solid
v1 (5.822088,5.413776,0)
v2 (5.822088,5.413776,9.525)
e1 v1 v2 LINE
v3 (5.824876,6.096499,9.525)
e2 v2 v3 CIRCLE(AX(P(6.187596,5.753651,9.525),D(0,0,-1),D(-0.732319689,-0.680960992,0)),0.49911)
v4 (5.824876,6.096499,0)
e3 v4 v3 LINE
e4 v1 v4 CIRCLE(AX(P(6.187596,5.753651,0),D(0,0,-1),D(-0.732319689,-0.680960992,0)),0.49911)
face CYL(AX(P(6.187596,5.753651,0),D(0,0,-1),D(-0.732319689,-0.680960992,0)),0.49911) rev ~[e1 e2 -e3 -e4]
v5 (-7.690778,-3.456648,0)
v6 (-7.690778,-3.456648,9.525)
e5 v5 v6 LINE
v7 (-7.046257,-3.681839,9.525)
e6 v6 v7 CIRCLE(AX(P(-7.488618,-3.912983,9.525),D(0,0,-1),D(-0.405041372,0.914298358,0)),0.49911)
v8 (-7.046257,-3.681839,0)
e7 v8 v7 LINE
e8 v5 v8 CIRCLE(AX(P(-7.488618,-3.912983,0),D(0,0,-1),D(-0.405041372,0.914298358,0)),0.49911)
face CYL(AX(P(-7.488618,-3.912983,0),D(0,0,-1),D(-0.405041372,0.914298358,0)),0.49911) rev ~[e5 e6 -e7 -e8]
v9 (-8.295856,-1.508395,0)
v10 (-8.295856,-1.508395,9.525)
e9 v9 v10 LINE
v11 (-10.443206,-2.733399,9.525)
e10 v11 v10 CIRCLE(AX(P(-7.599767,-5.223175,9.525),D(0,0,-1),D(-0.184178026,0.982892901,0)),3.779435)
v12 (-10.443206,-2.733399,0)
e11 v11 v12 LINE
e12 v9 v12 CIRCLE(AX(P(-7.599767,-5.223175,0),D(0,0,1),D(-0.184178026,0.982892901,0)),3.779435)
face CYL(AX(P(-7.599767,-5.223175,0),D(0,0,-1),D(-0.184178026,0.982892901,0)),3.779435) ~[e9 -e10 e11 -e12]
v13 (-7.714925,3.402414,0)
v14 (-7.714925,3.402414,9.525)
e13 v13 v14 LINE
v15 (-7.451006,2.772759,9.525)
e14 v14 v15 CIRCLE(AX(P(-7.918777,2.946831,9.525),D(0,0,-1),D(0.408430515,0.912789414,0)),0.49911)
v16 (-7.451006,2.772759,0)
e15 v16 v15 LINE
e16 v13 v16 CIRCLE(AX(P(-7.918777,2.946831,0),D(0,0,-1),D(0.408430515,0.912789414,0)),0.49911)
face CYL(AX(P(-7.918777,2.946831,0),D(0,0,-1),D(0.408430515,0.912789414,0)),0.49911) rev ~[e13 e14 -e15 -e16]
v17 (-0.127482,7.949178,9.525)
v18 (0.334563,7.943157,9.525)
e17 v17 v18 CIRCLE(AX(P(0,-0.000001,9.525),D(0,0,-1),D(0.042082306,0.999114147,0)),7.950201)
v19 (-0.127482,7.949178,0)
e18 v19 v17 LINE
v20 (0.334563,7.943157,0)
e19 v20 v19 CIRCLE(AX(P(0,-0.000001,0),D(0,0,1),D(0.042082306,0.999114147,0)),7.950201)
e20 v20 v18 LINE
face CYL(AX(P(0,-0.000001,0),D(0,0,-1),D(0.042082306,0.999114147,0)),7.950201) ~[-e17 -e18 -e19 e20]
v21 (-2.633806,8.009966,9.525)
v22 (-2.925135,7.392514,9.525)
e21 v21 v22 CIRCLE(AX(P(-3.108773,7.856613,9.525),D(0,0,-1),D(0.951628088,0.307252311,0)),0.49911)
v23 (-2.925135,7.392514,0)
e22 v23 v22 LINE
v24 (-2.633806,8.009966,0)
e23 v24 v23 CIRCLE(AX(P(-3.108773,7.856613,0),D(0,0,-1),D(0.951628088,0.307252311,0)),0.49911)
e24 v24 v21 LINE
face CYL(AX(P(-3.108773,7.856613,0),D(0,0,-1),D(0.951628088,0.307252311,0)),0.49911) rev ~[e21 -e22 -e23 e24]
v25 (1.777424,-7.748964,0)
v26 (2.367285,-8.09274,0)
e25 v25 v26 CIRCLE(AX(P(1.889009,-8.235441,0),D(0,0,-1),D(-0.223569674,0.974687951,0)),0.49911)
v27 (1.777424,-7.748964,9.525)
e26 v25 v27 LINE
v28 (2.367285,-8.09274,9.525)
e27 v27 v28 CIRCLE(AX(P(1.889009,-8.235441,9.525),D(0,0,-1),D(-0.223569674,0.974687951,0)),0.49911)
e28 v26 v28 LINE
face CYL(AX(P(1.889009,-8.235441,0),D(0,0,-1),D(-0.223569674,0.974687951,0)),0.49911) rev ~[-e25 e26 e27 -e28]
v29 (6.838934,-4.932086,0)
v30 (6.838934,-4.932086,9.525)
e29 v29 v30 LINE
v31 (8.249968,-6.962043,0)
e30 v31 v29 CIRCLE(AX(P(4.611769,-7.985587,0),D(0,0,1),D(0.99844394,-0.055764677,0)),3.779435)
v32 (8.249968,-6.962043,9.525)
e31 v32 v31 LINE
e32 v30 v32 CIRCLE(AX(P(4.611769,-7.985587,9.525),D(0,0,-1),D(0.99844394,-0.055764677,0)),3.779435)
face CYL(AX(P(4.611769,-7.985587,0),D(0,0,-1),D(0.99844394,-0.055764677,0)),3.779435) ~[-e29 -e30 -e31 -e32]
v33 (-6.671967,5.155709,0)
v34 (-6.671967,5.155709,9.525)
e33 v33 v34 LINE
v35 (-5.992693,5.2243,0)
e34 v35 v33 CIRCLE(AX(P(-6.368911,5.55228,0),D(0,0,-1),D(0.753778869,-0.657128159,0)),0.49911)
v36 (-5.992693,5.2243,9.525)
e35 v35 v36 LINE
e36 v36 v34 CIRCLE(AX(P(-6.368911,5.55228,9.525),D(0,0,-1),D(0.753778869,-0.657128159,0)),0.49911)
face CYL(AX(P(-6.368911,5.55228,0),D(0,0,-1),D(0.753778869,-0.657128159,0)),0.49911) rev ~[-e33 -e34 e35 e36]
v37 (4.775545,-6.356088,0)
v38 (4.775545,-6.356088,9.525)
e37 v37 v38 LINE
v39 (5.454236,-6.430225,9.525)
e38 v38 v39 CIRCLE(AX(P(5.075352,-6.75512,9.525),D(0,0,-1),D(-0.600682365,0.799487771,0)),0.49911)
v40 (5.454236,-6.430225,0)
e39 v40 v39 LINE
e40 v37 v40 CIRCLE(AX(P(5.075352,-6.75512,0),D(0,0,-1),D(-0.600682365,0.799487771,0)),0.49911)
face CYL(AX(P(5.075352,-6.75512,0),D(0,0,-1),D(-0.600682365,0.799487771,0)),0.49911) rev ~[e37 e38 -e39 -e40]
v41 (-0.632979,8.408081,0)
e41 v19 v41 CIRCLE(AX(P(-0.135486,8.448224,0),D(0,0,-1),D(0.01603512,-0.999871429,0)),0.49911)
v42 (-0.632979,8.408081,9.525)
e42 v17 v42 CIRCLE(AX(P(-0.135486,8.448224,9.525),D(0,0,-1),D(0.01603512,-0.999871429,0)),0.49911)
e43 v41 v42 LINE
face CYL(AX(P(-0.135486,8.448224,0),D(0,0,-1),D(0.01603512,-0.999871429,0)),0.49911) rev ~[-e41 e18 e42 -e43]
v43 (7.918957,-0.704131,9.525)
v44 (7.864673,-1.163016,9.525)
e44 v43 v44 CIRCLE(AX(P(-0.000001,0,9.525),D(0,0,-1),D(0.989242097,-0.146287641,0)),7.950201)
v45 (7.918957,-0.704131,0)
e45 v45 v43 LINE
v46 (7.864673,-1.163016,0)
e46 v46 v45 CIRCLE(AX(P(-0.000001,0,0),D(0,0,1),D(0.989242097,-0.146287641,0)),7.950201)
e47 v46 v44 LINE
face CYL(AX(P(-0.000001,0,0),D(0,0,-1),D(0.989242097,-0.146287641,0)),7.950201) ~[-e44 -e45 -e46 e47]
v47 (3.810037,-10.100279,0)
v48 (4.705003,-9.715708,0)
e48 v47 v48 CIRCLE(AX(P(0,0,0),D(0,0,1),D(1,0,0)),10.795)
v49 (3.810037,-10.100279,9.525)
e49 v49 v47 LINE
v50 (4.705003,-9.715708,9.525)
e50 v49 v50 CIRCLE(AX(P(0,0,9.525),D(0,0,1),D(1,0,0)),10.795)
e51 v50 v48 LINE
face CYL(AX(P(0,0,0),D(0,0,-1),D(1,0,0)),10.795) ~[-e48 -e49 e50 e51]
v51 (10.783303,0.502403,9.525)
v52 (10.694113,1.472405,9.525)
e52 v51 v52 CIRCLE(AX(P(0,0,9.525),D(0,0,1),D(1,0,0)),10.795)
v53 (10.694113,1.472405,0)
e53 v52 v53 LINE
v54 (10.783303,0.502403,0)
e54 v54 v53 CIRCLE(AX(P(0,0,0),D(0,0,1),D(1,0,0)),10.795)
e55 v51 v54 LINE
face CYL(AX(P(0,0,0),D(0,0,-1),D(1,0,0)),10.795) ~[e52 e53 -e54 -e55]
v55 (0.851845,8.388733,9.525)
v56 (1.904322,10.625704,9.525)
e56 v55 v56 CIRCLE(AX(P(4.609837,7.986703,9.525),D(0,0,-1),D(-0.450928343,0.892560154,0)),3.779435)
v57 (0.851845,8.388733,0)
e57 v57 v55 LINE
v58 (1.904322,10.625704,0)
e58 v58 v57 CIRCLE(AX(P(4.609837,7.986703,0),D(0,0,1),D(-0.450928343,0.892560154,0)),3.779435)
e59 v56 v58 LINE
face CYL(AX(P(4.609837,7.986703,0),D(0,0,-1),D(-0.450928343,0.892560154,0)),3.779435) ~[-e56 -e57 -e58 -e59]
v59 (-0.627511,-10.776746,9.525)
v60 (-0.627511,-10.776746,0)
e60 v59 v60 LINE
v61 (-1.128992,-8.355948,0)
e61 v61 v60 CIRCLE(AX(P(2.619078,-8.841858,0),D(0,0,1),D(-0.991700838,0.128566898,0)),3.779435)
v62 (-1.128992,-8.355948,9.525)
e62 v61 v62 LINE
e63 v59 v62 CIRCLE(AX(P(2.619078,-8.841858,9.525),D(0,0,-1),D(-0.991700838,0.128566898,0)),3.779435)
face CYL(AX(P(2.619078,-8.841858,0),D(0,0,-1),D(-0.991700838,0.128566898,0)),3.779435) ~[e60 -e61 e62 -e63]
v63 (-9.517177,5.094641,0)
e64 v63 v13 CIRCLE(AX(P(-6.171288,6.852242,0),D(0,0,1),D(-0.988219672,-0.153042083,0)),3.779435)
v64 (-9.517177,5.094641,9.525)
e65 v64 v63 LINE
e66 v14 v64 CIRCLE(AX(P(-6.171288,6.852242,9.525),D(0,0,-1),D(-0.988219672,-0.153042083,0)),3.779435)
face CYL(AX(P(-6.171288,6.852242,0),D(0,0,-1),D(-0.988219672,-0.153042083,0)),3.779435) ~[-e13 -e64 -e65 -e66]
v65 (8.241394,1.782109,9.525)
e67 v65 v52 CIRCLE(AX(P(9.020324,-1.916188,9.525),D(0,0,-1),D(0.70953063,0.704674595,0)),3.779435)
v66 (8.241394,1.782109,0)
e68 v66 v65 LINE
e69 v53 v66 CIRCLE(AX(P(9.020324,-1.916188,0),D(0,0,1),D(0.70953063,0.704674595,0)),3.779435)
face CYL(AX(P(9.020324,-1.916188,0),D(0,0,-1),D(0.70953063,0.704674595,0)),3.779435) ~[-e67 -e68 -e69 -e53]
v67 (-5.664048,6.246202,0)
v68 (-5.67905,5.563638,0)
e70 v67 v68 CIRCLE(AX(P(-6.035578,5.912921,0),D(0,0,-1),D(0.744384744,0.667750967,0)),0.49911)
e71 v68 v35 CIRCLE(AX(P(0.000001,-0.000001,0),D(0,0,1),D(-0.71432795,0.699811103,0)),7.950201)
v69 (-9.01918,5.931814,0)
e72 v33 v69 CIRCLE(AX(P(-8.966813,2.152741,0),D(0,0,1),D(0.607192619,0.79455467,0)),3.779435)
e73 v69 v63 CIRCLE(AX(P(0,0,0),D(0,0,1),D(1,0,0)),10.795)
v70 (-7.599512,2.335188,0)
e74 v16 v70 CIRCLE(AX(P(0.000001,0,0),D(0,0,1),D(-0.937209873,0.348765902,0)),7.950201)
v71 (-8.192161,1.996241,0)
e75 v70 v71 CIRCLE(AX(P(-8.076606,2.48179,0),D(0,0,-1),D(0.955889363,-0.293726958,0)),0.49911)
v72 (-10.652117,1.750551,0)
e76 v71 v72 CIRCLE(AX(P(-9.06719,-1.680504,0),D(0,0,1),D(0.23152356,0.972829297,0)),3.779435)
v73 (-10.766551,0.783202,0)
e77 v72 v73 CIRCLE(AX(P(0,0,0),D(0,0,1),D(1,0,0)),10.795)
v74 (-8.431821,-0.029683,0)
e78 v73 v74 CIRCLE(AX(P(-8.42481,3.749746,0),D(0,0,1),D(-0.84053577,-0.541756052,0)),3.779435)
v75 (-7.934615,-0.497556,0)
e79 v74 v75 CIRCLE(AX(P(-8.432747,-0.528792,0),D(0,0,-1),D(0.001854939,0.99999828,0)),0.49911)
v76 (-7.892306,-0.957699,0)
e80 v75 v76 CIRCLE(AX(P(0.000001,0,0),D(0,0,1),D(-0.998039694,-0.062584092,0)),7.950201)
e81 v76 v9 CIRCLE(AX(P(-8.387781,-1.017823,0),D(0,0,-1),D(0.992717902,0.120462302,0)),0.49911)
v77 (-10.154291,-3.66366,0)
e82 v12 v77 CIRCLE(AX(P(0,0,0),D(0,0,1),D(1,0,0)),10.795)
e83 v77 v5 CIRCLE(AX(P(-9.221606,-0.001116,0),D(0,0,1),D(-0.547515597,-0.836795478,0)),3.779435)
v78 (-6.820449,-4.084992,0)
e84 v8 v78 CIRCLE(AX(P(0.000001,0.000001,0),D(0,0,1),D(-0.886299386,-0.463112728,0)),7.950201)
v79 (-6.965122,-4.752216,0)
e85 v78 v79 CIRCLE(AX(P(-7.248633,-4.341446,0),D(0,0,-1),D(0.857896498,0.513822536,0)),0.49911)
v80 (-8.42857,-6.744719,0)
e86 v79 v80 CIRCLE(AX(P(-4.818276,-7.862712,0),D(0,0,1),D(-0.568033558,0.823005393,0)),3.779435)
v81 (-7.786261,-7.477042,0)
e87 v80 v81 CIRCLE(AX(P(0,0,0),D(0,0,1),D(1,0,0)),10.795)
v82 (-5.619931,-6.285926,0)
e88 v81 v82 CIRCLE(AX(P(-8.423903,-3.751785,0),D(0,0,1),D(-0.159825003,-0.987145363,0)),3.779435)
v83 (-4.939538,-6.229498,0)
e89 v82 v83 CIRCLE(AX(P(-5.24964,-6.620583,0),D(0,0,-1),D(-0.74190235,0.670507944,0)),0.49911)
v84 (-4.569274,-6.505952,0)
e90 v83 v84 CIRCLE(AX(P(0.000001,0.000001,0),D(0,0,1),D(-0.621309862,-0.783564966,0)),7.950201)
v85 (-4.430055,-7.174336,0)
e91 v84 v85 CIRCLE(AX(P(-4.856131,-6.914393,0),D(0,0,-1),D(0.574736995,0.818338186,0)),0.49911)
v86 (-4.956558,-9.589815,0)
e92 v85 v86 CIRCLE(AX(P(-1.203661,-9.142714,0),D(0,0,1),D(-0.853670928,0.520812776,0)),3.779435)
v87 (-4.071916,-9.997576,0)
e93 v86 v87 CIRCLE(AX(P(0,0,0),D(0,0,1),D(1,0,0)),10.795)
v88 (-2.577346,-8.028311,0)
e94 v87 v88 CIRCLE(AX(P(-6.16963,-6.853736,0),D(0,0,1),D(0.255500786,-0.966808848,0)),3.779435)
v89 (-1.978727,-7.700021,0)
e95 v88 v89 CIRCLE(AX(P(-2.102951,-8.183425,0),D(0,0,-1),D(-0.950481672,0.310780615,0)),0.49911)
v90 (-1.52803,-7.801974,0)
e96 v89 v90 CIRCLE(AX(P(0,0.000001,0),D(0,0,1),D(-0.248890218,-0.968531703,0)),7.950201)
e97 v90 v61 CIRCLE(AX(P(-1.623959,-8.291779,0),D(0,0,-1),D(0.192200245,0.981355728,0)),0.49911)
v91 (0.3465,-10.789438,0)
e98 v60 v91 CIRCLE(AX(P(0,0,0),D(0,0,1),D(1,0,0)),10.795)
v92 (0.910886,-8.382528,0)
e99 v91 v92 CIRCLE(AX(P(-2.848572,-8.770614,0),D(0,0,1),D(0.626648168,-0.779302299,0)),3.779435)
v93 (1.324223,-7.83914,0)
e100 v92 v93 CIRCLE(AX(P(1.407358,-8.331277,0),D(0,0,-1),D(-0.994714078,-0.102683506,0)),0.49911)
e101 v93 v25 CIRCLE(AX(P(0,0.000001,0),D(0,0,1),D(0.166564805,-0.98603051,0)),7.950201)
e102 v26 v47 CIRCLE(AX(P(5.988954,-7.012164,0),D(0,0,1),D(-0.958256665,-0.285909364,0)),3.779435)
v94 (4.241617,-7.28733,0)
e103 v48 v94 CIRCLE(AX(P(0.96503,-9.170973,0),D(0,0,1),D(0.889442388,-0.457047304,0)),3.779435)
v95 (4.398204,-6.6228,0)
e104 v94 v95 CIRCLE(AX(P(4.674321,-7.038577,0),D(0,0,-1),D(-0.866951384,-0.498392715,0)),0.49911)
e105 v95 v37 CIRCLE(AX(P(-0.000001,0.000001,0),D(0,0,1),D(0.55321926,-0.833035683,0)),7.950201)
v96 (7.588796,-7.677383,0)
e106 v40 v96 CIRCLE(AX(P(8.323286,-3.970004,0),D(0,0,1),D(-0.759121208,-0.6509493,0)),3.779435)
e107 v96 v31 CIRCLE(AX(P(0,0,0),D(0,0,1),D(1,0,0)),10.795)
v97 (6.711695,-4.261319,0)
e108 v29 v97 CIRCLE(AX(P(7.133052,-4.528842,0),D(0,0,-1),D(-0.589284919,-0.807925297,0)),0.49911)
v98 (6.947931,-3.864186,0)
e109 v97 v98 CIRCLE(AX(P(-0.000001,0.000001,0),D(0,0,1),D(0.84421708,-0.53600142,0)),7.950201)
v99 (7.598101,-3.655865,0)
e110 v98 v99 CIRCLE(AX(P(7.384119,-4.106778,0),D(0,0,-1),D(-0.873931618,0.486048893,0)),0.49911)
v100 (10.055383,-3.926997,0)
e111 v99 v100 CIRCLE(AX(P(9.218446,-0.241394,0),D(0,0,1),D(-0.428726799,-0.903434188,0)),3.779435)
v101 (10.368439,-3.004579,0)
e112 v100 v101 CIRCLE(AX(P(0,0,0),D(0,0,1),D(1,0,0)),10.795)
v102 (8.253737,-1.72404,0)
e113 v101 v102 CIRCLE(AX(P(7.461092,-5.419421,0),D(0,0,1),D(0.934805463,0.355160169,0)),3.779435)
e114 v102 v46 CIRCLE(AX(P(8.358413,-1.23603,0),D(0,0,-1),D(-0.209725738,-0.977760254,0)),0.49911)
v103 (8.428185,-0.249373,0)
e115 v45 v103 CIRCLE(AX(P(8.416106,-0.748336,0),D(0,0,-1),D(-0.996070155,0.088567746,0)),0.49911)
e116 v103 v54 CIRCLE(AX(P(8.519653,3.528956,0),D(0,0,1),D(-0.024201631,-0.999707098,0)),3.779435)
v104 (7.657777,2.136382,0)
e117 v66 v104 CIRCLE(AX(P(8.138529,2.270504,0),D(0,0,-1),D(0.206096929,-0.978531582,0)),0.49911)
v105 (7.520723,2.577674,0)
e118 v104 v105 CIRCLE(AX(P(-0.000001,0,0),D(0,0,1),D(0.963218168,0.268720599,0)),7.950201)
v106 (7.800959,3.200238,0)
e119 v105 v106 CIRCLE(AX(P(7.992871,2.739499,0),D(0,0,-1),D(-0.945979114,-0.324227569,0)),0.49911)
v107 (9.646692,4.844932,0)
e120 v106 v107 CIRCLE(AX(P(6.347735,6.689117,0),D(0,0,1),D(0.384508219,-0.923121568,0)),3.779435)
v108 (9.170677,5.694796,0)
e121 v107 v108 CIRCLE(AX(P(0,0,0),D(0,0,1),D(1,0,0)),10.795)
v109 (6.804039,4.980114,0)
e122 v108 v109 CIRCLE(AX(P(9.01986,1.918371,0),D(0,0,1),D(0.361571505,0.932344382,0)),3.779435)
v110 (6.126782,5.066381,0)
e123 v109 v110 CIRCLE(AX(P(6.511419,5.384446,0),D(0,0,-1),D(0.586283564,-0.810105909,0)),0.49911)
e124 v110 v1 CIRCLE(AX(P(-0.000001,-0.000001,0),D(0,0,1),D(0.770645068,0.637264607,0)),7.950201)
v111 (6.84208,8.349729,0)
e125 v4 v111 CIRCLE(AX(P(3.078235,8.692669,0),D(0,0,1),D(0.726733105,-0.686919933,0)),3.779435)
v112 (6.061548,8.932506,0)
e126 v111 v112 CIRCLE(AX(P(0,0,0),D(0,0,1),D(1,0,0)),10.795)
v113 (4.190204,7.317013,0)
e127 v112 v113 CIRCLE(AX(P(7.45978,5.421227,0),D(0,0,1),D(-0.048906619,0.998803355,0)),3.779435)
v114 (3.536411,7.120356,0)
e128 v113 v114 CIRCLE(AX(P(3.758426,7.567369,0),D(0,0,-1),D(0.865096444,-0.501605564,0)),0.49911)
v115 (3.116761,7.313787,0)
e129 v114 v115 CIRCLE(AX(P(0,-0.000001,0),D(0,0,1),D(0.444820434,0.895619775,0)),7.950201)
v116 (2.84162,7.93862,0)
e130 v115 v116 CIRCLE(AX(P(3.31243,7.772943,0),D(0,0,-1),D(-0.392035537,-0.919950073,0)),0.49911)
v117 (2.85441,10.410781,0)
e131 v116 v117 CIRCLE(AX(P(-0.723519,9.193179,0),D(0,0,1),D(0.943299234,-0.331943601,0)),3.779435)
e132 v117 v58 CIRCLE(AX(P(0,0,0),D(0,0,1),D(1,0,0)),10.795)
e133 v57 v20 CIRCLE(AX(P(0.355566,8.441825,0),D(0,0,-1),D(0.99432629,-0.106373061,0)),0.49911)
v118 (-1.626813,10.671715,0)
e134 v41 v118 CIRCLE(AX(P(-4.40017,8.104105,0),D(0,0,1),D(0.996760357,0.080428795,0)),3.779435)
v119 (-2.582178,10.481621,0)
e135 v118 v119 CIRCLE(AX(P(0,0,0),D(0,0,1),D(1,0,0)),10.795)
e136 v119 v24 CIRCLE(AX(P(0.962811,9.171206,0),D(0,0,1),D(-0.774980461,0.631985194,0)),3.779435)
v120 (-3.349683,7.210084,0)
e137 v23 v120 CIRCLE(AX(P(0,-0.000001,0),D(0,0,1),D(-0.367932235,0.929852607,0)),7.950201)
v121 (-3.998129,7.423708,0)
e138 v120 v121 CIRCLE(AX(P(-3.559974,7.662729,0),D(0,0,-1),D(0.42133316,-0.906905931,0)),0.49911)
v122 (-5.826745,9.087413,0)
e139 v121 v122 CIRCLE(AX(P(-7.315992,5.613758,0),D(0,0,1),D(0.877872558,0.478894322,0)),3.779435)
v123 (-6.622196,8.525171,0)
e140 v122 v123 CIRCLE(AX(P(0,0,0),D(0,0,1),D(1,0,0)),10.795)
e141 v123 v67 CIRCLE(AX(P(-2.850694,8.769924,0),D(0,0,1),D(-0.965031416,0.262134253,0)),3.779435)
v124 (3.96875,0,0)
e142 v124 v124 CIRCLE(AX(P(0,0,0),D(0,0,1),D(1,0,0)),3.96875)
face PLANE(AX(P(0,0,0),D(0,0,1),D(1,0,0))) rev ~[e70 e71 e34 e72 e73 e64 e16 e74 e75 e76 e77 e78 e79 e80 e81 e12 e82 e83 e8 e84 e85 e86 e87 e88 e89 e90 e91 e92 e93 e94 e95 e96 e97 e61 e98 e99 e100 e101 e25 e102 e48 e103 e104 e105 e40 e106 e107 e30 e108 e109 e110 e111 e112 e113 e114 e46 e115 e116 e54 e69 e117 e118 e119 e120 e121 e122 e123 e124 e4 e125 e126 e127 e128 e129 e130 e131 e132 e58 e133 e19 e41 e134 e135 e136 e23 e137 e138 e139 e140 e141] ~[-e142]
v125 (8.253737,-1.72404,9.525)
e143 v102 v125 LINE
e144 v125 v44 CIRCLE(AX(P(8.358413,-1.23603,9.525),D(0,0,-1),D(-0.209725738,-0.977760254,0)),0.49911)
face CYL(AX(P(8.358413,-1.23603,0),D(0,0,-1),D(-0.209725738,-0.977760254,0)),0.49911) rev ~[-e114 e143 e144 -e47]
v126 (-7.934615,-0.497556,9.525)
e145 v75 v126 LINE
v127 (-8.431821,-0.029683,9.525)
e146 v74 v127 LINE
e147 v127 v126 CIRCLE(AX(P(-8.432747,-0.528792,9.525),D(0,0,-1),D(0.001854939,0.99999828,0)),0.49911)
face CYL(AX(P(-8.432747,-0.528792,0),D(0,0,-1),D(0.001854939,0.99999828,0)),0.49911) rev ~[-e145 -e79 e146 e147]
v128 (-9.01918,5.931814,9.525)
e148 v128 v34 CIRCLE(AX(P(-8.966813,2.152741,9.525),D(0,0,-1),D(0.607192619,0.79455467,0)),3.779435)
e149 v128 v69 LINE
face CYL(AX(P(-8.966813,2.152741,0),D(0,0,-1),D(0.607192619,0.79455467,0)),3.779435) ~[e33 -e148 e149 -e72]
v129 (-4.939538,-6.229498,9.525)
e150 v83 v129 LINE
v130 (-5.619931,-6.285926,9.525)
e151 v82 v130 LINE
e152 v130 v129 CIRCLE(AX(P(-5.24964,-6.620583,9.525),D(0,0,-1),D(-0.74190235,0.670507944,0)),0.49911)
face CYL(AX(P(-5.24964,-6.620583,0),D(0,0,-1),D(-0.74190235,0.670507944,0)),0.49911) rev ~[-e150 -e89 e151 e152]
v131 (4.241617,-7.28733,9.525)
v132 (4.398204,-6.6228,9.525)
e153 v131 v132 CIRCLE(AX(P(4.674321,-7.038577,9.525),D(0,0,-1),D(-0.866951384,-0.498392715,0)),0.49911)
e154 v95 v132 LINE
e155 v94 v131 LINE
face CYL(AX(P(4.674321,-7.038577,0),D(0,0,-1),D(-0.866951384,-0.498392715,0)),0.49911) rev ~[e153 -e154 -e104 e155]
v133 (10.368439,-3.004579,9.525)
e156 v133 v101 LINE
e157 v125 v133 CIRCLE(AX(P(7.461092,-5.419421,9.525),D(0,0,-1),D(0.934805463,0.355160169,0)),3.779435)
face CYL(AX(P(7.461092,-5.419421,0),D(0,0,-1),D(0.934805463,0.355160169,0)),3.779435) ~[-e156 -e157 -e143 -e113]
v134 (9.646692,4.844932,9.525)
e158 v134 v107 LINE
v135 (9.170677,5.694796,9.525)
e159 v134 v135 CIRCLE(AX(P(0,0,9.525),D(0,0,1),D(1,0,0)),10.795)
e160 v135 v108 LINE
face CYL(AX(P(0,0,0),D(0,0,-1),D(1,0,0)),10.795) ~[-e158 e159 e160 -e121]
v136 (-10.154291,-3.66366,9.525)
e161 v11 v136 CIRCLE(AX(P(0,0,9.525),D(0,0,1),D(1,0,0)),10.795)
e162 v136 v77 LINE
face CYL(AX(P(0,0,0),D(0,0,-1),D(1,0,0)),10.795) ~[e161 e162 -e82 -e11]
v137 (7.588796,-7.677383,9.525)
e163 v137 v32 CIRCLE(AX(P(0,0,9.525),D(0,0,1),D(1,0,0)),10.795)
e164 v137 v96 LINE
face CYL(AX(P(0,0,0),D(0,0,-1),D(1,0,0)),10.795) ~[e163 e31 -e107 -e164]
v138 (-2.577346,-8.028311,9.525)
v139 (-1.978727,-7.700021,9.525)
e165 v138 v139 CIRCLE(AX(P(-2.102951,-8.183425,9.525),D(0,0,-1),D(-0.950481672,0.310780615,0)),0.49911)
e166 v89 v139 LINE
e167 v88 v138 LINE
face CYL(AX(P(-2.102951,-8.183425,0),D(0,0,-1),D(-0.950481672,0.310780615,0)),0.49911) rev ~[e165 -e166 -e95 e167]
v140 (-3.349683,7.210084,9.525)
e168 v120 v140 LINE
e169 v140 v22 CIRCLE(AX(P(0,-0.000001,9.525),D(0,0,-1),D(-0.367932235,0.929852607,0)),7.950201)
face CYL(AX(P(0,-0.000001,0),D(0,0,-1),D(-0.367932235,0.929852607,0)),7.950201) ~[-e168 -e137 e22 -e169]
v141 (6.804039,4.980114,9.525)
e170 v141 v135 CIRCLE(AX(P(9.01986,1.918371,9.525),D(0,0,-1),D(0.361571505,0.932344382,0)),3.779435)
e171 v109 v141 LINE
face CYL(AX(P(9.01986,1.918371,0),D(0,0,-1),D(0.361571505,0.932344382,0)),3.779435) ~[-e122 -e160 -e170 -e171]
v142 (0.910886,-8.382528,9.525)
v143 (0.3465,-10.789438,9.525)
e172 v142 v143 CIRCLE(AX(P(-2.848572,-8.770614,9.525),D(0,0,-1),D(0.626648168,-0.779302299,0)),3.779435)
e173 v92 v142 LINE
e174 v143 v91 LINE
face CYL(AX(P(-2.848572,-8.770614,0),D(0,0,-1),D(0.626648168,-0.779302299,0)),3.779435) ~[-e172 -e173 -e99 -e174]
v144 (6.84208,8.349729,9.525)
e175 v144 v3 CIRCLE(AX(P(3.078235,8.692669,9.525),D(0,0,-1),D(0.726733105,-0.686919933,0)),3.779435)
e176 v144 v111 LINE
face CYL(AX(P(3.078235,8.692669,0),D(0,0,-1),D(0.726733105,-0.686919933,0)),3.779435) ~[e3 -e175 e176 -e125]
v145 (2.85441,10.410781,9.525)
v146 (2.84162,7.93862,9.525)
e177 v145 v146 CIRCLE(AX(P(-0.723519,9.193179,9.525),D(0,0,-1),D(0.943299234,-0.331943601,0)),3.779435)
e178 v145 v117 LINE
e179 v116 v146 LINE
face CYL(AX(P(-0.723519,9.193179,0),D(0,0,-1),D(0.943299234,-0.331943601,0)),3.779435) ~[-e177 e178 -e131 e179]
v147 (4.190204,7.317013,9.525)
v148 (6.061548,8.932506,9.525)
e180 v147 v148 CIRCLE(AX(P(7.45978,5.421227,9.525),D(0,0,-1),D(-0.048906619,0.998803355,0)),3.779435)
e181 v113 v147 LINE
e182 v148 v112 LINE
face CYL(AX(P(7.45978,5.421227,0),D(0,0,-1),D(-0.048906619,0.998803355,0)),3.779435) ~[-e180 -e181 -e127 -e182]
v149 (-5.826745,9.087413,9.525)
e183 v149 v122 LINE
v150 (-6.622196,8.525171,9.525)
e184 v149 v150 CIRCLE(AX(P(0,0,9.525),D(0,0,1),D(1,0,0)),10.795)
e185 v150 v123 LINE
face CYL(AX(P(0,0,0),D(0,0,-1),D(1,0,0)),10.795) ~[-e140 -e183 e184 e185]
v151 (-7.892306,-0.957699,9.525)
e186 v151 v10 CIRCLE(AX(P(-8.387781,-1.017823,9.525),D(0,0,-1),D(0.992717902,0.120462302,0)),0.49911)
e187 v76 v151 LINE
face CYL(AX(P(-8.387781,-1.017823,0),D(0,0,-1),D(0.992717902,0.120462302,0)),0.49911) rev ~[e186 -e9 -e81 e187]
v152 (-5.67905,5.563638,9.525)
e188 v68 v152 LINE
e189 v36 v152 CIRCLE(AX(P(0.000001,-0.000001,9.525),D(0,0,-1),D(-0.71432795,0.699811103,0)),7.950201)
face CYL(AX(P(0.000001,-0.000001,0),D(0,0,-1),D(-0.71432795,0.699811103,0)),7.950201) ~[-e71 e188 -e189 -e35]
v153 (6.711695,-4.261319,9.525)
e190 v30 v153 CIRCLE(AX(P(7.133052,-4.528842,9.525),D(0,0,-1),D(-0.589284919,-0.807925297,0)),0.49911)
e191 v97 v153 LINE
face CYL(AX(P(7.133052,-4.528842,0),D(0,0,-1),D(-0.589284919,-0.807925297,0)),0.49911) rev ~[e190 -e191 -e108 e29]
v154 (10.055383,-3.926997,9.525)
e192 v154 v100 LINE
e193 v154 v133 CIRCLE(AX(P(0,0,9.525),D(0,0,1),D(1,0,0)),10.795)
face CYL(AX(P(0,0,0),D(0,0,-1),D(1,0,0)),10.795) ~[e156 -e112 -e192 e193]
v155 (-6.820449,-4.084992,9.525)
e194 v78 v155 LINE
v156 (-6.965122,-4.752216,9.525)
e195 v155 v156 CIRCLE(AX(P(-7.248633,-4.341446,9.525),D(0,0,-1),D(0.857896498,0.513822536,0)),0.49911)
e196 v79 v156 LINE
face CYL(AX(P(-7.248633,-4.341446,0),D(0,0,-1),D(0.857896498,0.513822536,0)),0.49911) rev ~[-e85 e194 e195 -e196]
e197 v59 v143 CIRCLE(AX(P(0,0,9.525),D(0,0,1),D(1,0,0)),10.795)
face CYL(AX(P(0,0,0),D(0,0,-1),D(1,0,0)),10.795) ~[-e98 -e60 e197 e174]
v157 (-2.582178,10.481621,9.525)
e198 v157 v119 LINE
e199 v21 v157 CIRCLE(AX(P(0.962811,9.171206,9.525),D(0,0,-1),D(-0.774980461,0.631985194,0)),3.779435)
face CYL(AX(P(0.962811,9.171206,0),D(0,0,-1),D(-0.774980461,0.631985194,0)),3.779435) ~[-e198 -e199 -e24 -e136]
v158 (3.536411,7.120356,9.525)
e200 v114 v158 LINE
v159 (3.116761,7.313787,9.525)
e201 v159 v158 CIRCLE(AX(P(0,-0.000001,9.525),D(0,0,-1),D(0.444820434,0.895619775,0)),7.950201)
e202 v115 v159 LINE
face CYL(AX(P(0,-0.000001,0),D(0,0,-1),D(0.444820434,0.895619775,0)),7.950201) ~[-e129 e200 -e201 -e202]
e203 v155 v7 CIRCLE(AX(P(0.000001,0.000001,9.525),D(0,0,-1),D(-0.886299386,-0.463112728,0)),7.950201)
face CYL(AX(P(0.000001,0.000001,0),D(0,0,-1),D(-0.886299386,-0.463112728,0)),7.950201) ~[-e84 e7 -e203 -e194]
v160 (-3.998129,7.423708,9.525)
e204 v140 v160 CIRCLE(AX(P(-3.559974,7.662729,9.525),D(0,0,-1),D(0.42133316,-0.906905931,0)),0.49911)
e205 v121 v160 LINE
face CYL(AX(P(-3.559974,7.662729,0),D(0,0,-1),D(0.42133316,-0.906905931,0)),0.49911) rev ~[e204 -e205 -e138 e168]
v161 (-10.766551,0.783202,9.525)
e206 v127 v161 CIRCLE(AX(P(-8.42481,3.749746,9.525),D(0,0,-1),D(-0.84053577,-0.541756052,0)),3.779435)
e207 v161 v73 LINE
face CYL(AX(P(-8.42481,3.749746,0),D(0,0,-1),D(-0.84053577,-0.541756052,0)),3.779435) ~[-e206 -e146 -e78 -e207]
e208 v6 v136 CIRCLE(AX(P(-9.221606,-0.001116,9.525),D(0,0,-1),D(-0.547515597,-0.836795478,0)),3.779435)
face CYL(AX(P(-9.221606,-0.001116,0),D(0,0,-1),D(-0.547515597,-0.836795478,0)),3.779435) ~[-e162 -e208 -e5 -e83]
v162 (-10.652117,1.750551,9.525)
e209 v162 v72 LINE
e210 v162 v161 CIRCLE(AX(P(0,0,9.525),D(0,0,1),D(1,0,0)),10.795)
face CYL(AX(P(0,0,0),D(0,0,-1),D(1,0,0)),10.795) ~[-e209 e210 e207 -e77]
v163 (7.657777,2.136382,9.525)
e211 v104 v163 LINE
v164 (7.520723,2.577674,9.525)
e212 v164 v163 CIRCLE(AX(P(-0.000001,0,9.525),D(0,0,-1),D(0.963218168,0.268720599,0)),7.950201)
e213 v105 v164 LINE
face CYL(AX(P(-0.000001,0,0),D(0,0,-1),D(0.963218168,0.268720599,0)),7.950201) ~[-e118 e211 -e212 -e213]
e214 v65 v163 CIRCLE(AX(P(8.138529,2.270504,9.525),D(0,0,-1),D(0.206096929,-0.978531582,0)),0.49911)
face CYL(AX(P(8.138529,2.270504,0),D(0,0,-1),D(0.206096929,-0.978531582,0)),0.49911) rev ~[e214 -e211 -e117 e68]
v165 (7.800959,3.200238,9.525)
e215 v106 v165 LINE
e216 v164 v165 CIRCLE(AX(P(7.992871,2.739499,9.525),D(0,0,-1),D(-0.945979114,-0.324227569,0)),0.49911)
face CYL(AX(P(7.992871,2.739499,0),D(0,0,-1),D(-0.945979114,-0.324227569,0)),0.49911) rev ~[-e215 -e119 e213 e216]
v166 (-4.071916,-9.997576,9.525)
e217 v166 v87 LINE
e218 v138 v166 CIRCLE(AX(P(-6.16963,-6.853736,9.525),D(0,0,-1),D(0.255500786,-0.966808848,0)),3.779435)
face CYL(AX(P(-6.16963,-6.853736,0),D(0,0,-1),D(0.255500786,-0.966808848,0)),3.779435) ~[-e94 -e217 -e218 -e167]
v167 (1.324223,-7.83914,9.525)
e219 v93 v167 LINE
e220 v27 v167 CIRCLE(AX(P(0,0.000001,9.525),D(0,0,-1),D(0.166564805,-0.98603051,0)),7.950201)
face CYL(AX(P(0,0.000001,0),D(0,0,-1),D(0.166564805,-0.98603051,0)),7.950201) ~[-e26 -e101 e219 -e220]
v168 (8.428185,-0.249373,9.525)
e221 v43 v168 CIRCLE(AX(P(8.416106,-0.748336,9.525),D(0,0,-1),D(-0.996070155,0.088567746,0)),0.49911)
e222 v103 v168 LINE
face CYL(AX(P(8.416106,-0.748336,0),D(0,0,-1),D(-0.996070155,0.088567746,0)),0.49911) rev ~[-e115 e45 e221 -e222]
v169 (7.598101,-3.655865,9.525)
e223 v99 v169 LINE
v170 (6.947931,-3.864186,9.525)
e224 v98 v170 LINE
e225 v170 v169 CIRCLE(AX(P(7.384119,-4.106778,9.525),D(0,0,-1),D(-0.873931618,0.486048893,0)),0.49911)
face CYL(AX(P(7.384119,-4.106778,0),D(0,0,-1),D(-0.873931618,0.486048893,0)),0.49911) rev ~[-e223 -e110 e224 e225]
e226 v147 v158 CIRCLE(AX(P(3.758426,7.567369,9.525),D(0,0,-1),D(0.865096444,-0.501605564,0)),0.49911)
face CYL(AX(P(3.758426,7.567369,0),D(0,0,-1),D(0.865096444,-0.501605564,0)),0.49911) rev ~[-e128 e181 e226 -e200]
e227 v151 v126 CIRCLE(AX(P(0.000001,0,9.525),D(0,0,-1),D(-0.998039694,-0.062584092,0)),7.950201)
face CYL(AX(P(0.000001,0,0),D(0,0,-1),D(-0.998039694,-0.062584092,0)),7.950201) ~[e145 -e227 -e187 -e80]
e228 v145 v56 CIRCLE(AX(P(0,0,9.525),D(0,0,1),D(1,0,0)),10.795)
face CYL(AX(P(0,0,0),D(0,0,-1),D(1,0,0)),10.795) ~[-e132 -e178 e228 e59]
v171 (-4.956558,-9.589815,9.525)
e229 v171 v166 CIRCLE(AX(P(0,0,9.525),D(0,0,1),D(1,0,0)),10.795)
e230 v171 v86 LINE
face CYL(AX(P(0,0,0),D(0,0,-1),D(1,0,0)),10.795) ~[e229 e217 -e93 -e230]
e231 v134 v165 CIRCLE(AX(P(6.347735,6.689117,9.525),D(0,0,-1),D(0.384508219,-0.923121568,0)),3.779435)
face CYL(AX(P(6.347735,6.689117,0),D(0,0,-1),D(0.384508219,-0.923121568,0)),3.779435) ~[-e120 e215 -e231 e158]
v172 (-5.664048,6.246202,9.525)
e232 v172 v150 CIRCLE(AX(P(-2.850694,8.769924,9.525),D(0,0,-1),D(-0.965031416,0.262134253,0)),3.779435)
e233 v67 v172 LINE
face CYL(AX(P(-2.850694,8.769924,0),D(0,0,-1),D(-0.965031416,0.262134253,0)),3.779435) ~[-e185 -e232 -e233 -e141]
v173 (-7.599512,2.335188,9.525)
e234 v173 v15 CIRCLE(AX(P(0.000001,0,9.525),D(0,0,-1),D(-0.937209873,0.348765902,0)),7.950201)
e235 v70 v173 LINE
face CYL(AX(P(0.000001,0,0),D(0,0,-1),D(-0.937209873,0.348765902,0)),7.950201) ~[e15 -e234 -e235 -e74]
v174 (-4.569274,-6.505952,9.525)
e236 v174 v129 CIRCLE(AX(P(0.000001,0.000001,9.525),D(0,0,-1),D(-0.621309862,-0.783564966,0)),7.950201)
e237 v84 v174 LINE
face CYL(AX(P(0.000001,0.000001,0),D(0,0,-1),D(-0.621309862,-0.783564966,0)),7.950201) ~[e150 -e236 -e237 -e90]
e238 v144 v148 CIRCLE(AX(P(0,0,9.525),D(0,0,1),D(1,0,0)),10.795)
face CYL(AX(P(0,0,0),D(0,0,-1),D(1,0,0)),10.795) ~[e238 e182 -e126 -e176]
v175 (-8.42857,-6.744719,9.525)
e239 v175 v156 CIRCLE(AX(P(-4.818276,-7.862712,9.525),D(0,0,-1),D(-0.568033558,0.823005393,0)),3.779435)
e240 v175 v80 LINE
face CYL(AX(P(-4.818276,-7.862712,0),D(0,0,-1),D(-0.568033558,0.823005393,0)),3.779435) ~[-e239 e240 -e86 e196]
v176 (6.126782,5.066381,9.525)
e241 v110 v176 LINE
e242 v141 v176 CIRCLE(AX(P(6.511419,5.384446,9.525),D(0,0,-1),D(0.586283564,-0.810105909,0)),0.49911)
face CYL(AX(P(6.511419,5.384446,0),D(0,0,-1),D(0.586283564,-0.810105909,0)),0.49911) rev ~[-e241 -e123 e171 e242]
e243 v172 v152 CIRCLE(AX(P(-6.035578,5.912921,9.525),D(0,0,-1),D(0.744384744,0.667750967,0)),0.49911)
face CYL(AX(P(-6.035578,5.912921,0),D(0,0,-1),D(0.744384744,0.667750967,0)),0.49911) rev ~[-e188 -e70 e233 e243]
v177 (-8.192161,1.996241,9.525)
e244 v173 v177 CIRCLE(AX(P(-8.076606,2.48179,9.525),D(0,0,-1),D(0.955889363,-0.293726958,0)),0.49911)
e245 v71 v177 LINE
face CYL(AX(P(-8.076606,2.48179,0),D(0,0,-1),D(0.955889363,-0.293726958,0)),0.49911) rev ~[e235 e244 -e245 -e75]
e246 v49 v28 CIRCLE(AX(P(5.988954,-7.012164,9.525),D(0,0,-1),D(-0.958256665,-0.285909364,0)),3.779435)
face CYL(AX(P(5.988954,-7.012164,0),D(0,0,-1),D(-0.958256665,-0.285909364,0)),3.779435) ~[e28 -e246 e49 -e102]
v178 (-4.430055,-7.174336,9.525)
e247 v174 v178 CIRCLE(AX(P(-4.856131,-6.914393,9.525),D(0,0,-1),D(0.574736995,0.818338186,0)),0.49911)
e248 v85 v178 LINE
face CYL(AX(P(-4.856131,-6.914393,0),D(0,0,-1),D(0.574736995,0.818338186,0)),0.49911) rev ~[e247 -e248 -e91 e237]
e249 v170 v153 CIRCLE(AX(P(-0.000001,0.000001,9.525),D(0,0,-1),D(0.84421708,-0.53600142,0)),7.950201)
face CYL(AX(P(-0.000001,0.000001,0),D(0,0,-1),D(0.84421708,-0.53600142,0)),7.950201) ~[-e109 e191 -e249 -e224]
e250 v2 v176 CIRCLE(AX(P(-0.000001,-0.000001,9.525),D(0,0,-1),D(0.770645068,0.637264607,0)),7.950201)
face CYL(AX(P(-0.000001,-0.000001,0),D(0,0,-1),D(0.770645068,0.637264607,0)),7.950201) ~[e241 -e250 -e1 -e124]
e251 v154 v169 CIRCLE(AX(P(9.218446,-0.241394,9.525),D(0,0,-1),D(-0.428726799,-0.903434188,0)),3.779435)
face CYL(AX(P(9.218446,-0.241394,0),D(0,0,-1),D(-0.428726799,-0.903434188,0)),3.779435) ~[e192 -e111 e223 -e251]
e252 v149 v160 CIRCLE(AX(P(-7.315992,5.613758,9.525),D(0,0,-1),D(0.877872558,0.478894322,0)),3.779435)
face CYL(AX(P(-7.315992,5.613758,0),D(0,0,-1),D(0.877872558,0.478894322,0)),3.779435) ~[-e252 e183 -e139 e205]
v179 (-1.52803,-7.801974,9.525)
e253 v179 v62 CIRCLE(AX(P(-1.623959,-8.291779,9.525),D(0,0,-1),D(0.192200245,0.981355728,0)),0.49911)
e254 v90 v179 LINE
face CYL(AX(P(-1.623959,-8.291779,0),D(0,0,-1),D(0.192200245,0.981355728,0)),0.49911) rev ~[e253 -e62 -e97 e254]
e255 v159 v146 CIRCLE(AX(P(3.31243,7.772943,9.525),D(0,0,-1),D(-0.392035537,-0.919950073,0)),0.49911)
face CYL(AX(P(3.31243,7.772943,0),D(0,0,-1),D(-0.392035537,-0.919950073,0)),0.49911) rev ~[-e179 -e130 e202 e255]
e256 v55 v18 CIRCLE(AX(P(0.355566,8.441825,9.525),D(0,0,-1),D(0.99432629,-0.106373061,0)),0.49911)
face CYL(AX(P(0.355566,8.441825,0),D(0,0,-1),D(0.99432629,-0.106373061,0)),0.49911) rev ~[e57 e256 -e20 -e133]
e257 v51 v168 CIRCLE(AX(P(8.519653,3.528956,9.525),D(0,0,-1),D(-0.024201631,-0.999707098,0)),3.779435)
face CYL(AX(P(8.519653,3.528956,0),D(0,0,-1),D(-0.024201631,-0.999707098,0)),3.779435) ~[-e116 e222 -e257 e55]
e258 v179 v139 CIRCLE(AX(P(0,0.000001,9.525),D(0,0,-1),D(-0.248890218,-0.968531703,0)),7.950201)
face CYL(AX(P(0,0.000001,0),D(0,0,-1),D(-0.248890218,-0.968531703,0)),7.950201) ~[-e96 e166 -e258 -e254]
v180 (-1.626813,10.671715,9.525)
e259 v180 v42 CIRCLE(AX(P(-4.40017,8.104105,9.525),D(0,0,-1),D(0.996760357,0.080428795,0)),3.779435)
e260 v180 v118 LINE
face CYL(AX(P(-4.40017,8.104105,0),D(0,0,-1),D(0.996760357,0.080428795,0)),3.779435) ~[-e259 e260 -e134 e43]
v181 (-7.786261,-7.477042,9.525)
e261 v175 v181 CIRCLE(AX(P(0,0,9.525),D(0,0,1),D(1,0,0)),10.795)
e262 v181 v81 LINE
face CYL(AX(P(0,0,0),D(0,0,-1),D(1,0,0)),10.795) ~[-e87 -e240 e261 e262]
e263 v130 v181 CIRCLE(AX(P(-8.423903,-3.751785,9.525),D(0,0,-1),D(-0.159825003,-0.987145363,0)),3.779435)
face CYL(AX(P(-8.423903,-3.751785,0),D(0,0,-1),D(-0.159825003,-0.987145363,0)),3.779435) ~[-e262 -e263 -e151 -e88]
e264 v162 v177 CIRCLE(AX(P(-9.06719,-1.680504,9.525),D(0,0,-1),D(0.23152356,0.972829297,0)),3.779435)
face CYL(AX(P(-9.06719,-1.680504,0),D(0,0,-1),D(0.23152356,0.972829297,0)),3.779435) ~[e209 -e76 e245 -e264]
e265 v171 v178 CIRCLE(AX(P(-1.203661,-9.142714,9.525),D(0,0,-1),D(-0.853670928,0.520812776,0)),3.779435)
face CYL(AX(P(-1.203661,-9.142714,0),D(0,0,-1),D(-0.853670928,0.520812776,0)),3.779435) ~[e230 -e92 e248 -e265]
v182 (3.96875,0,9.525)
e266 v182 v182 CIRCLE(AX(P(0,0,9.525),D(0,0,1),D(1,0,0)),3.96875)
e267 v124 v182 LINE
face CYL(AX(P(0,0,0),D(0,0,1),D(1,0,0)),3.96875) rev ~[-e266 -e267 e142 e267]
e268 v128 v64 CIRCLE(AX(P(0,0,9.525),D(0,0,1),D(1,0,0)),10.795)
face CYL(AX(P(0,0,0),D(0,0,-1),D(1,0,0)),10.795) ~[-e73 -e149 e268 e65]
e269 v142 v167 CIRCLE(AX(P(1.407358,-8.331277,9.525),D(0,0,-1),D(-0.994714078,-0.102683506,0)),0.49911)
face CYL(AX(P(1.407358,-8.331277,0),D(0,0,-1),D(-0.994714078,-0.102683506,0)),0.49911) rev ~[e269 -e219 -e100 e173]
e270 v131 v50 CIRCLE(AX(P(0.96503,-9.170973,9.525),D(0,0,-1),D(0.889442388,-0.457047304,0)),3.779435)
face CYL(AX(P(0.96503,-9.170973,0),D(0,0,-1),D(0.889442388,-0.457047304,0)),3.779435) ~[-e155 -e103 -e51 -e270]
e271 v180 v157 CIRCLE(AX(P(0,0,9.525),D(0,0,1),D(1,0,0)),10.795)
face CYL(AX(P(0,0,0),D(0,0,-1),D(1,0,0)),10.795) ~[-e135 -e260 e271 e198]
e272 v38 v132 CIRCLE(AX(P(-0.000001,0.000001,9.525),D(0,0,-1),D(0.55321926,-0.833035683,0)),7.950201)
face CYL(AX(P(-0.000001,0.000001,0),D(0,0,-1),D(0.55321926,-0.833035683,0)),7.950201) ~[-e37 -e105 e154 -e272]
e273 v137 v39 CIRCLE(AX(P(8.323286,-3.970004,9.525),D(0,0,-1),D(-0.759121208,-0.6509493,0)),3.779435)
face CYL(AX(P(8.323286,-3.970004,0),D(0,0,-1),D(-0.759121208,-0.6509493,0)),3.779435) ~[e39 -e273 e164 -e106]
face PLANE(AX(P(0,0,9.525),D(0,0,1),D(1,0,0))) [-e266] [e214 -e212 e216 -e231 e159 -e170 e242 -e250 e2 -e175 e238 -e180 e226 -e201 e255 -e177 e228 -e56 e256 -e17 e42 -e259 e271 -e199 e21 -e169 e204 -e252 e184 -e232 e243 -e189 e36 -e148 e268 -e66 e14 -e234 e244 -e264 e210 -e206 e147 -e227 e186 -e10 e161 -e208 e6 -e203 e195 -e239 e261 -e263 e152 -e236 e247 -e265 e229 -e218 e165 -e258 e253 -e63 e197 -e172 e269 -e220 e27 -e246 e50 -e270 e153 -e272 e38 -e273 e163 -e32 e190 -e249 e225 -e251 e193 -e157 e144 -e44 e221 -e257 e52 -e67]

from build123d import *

# Parameters (mm, degrees)
SKETCH3_R         = 10.795
GEARBODY_DEPTH    = 9.525
TOOTHCUT_DEPTH    = 10.525
CIRPATTERN1_COUNT = 15
BOREDIA_R         = 3.96875
BORE_DEPTH        = 12700


with BuildPart() as part:
    # Sketch3 → gearBody (new body)
    with BuildSketch(Plane.XY):
        Circle(SKETCH3_R)
    extrude(amount=GEARBODY_DEPTH)

    # Sketch2 → toothCut (cut, through all)
    with BuildSketch(Plane.XY):
        with BuildLine():
            ThreePointArc((7.864672513, -1.163016041), (7.895149368, -0.933968145), (7.918956949, -0.704131297))
            ThreePointArc((7.918956949, -0.704131297), (8.083653363, -0.376064465), (8.4281848, -0.249372536))
            ThreePointArc((8.4281848, -0.249372536), (10.244786828, 0.166211992), (11.641974978, 1.399345683))
            ThreePointArc((11.641974978, 1.399345683), (11.644578548, -1.377512307), (10.99412895, -4.077116426))
            ThreePointArc((10.99412895, -4.077116426), (9.923230012, -2.552016793), (8.253736923, -1.724039588))
            ThreePointArc((8.253736923, -1.724039588), (7.948275924, -1.520455861), (7.864672513, -1.163016041))
        make_face()
    toothcut = extrude(amount=TOOTHCUT_DEPTH, mode=Mode.SUBTRACT)

    # CirPattern1: toothCut ×15 about axis
    cirpattern1_axis = Axis((0, 0, 0), (0, 0, 1))
    for i in range(1, CIRPATTERN1_COUNT):
        add(toothcut.rotate(cirpattern1_axis, i * 360 / CIRPATTERN1_COUNT), mode=Mode.SUBTRACT)

    # boreDia → bore (cut, symmetric)
    with BuildSketch(Plane.XY):
        Circle(BOREDIA_R)
    extrude(amount=BORE_DEPTH, both=True, mode=Mode.SUBTRACT)


solid = part.part
